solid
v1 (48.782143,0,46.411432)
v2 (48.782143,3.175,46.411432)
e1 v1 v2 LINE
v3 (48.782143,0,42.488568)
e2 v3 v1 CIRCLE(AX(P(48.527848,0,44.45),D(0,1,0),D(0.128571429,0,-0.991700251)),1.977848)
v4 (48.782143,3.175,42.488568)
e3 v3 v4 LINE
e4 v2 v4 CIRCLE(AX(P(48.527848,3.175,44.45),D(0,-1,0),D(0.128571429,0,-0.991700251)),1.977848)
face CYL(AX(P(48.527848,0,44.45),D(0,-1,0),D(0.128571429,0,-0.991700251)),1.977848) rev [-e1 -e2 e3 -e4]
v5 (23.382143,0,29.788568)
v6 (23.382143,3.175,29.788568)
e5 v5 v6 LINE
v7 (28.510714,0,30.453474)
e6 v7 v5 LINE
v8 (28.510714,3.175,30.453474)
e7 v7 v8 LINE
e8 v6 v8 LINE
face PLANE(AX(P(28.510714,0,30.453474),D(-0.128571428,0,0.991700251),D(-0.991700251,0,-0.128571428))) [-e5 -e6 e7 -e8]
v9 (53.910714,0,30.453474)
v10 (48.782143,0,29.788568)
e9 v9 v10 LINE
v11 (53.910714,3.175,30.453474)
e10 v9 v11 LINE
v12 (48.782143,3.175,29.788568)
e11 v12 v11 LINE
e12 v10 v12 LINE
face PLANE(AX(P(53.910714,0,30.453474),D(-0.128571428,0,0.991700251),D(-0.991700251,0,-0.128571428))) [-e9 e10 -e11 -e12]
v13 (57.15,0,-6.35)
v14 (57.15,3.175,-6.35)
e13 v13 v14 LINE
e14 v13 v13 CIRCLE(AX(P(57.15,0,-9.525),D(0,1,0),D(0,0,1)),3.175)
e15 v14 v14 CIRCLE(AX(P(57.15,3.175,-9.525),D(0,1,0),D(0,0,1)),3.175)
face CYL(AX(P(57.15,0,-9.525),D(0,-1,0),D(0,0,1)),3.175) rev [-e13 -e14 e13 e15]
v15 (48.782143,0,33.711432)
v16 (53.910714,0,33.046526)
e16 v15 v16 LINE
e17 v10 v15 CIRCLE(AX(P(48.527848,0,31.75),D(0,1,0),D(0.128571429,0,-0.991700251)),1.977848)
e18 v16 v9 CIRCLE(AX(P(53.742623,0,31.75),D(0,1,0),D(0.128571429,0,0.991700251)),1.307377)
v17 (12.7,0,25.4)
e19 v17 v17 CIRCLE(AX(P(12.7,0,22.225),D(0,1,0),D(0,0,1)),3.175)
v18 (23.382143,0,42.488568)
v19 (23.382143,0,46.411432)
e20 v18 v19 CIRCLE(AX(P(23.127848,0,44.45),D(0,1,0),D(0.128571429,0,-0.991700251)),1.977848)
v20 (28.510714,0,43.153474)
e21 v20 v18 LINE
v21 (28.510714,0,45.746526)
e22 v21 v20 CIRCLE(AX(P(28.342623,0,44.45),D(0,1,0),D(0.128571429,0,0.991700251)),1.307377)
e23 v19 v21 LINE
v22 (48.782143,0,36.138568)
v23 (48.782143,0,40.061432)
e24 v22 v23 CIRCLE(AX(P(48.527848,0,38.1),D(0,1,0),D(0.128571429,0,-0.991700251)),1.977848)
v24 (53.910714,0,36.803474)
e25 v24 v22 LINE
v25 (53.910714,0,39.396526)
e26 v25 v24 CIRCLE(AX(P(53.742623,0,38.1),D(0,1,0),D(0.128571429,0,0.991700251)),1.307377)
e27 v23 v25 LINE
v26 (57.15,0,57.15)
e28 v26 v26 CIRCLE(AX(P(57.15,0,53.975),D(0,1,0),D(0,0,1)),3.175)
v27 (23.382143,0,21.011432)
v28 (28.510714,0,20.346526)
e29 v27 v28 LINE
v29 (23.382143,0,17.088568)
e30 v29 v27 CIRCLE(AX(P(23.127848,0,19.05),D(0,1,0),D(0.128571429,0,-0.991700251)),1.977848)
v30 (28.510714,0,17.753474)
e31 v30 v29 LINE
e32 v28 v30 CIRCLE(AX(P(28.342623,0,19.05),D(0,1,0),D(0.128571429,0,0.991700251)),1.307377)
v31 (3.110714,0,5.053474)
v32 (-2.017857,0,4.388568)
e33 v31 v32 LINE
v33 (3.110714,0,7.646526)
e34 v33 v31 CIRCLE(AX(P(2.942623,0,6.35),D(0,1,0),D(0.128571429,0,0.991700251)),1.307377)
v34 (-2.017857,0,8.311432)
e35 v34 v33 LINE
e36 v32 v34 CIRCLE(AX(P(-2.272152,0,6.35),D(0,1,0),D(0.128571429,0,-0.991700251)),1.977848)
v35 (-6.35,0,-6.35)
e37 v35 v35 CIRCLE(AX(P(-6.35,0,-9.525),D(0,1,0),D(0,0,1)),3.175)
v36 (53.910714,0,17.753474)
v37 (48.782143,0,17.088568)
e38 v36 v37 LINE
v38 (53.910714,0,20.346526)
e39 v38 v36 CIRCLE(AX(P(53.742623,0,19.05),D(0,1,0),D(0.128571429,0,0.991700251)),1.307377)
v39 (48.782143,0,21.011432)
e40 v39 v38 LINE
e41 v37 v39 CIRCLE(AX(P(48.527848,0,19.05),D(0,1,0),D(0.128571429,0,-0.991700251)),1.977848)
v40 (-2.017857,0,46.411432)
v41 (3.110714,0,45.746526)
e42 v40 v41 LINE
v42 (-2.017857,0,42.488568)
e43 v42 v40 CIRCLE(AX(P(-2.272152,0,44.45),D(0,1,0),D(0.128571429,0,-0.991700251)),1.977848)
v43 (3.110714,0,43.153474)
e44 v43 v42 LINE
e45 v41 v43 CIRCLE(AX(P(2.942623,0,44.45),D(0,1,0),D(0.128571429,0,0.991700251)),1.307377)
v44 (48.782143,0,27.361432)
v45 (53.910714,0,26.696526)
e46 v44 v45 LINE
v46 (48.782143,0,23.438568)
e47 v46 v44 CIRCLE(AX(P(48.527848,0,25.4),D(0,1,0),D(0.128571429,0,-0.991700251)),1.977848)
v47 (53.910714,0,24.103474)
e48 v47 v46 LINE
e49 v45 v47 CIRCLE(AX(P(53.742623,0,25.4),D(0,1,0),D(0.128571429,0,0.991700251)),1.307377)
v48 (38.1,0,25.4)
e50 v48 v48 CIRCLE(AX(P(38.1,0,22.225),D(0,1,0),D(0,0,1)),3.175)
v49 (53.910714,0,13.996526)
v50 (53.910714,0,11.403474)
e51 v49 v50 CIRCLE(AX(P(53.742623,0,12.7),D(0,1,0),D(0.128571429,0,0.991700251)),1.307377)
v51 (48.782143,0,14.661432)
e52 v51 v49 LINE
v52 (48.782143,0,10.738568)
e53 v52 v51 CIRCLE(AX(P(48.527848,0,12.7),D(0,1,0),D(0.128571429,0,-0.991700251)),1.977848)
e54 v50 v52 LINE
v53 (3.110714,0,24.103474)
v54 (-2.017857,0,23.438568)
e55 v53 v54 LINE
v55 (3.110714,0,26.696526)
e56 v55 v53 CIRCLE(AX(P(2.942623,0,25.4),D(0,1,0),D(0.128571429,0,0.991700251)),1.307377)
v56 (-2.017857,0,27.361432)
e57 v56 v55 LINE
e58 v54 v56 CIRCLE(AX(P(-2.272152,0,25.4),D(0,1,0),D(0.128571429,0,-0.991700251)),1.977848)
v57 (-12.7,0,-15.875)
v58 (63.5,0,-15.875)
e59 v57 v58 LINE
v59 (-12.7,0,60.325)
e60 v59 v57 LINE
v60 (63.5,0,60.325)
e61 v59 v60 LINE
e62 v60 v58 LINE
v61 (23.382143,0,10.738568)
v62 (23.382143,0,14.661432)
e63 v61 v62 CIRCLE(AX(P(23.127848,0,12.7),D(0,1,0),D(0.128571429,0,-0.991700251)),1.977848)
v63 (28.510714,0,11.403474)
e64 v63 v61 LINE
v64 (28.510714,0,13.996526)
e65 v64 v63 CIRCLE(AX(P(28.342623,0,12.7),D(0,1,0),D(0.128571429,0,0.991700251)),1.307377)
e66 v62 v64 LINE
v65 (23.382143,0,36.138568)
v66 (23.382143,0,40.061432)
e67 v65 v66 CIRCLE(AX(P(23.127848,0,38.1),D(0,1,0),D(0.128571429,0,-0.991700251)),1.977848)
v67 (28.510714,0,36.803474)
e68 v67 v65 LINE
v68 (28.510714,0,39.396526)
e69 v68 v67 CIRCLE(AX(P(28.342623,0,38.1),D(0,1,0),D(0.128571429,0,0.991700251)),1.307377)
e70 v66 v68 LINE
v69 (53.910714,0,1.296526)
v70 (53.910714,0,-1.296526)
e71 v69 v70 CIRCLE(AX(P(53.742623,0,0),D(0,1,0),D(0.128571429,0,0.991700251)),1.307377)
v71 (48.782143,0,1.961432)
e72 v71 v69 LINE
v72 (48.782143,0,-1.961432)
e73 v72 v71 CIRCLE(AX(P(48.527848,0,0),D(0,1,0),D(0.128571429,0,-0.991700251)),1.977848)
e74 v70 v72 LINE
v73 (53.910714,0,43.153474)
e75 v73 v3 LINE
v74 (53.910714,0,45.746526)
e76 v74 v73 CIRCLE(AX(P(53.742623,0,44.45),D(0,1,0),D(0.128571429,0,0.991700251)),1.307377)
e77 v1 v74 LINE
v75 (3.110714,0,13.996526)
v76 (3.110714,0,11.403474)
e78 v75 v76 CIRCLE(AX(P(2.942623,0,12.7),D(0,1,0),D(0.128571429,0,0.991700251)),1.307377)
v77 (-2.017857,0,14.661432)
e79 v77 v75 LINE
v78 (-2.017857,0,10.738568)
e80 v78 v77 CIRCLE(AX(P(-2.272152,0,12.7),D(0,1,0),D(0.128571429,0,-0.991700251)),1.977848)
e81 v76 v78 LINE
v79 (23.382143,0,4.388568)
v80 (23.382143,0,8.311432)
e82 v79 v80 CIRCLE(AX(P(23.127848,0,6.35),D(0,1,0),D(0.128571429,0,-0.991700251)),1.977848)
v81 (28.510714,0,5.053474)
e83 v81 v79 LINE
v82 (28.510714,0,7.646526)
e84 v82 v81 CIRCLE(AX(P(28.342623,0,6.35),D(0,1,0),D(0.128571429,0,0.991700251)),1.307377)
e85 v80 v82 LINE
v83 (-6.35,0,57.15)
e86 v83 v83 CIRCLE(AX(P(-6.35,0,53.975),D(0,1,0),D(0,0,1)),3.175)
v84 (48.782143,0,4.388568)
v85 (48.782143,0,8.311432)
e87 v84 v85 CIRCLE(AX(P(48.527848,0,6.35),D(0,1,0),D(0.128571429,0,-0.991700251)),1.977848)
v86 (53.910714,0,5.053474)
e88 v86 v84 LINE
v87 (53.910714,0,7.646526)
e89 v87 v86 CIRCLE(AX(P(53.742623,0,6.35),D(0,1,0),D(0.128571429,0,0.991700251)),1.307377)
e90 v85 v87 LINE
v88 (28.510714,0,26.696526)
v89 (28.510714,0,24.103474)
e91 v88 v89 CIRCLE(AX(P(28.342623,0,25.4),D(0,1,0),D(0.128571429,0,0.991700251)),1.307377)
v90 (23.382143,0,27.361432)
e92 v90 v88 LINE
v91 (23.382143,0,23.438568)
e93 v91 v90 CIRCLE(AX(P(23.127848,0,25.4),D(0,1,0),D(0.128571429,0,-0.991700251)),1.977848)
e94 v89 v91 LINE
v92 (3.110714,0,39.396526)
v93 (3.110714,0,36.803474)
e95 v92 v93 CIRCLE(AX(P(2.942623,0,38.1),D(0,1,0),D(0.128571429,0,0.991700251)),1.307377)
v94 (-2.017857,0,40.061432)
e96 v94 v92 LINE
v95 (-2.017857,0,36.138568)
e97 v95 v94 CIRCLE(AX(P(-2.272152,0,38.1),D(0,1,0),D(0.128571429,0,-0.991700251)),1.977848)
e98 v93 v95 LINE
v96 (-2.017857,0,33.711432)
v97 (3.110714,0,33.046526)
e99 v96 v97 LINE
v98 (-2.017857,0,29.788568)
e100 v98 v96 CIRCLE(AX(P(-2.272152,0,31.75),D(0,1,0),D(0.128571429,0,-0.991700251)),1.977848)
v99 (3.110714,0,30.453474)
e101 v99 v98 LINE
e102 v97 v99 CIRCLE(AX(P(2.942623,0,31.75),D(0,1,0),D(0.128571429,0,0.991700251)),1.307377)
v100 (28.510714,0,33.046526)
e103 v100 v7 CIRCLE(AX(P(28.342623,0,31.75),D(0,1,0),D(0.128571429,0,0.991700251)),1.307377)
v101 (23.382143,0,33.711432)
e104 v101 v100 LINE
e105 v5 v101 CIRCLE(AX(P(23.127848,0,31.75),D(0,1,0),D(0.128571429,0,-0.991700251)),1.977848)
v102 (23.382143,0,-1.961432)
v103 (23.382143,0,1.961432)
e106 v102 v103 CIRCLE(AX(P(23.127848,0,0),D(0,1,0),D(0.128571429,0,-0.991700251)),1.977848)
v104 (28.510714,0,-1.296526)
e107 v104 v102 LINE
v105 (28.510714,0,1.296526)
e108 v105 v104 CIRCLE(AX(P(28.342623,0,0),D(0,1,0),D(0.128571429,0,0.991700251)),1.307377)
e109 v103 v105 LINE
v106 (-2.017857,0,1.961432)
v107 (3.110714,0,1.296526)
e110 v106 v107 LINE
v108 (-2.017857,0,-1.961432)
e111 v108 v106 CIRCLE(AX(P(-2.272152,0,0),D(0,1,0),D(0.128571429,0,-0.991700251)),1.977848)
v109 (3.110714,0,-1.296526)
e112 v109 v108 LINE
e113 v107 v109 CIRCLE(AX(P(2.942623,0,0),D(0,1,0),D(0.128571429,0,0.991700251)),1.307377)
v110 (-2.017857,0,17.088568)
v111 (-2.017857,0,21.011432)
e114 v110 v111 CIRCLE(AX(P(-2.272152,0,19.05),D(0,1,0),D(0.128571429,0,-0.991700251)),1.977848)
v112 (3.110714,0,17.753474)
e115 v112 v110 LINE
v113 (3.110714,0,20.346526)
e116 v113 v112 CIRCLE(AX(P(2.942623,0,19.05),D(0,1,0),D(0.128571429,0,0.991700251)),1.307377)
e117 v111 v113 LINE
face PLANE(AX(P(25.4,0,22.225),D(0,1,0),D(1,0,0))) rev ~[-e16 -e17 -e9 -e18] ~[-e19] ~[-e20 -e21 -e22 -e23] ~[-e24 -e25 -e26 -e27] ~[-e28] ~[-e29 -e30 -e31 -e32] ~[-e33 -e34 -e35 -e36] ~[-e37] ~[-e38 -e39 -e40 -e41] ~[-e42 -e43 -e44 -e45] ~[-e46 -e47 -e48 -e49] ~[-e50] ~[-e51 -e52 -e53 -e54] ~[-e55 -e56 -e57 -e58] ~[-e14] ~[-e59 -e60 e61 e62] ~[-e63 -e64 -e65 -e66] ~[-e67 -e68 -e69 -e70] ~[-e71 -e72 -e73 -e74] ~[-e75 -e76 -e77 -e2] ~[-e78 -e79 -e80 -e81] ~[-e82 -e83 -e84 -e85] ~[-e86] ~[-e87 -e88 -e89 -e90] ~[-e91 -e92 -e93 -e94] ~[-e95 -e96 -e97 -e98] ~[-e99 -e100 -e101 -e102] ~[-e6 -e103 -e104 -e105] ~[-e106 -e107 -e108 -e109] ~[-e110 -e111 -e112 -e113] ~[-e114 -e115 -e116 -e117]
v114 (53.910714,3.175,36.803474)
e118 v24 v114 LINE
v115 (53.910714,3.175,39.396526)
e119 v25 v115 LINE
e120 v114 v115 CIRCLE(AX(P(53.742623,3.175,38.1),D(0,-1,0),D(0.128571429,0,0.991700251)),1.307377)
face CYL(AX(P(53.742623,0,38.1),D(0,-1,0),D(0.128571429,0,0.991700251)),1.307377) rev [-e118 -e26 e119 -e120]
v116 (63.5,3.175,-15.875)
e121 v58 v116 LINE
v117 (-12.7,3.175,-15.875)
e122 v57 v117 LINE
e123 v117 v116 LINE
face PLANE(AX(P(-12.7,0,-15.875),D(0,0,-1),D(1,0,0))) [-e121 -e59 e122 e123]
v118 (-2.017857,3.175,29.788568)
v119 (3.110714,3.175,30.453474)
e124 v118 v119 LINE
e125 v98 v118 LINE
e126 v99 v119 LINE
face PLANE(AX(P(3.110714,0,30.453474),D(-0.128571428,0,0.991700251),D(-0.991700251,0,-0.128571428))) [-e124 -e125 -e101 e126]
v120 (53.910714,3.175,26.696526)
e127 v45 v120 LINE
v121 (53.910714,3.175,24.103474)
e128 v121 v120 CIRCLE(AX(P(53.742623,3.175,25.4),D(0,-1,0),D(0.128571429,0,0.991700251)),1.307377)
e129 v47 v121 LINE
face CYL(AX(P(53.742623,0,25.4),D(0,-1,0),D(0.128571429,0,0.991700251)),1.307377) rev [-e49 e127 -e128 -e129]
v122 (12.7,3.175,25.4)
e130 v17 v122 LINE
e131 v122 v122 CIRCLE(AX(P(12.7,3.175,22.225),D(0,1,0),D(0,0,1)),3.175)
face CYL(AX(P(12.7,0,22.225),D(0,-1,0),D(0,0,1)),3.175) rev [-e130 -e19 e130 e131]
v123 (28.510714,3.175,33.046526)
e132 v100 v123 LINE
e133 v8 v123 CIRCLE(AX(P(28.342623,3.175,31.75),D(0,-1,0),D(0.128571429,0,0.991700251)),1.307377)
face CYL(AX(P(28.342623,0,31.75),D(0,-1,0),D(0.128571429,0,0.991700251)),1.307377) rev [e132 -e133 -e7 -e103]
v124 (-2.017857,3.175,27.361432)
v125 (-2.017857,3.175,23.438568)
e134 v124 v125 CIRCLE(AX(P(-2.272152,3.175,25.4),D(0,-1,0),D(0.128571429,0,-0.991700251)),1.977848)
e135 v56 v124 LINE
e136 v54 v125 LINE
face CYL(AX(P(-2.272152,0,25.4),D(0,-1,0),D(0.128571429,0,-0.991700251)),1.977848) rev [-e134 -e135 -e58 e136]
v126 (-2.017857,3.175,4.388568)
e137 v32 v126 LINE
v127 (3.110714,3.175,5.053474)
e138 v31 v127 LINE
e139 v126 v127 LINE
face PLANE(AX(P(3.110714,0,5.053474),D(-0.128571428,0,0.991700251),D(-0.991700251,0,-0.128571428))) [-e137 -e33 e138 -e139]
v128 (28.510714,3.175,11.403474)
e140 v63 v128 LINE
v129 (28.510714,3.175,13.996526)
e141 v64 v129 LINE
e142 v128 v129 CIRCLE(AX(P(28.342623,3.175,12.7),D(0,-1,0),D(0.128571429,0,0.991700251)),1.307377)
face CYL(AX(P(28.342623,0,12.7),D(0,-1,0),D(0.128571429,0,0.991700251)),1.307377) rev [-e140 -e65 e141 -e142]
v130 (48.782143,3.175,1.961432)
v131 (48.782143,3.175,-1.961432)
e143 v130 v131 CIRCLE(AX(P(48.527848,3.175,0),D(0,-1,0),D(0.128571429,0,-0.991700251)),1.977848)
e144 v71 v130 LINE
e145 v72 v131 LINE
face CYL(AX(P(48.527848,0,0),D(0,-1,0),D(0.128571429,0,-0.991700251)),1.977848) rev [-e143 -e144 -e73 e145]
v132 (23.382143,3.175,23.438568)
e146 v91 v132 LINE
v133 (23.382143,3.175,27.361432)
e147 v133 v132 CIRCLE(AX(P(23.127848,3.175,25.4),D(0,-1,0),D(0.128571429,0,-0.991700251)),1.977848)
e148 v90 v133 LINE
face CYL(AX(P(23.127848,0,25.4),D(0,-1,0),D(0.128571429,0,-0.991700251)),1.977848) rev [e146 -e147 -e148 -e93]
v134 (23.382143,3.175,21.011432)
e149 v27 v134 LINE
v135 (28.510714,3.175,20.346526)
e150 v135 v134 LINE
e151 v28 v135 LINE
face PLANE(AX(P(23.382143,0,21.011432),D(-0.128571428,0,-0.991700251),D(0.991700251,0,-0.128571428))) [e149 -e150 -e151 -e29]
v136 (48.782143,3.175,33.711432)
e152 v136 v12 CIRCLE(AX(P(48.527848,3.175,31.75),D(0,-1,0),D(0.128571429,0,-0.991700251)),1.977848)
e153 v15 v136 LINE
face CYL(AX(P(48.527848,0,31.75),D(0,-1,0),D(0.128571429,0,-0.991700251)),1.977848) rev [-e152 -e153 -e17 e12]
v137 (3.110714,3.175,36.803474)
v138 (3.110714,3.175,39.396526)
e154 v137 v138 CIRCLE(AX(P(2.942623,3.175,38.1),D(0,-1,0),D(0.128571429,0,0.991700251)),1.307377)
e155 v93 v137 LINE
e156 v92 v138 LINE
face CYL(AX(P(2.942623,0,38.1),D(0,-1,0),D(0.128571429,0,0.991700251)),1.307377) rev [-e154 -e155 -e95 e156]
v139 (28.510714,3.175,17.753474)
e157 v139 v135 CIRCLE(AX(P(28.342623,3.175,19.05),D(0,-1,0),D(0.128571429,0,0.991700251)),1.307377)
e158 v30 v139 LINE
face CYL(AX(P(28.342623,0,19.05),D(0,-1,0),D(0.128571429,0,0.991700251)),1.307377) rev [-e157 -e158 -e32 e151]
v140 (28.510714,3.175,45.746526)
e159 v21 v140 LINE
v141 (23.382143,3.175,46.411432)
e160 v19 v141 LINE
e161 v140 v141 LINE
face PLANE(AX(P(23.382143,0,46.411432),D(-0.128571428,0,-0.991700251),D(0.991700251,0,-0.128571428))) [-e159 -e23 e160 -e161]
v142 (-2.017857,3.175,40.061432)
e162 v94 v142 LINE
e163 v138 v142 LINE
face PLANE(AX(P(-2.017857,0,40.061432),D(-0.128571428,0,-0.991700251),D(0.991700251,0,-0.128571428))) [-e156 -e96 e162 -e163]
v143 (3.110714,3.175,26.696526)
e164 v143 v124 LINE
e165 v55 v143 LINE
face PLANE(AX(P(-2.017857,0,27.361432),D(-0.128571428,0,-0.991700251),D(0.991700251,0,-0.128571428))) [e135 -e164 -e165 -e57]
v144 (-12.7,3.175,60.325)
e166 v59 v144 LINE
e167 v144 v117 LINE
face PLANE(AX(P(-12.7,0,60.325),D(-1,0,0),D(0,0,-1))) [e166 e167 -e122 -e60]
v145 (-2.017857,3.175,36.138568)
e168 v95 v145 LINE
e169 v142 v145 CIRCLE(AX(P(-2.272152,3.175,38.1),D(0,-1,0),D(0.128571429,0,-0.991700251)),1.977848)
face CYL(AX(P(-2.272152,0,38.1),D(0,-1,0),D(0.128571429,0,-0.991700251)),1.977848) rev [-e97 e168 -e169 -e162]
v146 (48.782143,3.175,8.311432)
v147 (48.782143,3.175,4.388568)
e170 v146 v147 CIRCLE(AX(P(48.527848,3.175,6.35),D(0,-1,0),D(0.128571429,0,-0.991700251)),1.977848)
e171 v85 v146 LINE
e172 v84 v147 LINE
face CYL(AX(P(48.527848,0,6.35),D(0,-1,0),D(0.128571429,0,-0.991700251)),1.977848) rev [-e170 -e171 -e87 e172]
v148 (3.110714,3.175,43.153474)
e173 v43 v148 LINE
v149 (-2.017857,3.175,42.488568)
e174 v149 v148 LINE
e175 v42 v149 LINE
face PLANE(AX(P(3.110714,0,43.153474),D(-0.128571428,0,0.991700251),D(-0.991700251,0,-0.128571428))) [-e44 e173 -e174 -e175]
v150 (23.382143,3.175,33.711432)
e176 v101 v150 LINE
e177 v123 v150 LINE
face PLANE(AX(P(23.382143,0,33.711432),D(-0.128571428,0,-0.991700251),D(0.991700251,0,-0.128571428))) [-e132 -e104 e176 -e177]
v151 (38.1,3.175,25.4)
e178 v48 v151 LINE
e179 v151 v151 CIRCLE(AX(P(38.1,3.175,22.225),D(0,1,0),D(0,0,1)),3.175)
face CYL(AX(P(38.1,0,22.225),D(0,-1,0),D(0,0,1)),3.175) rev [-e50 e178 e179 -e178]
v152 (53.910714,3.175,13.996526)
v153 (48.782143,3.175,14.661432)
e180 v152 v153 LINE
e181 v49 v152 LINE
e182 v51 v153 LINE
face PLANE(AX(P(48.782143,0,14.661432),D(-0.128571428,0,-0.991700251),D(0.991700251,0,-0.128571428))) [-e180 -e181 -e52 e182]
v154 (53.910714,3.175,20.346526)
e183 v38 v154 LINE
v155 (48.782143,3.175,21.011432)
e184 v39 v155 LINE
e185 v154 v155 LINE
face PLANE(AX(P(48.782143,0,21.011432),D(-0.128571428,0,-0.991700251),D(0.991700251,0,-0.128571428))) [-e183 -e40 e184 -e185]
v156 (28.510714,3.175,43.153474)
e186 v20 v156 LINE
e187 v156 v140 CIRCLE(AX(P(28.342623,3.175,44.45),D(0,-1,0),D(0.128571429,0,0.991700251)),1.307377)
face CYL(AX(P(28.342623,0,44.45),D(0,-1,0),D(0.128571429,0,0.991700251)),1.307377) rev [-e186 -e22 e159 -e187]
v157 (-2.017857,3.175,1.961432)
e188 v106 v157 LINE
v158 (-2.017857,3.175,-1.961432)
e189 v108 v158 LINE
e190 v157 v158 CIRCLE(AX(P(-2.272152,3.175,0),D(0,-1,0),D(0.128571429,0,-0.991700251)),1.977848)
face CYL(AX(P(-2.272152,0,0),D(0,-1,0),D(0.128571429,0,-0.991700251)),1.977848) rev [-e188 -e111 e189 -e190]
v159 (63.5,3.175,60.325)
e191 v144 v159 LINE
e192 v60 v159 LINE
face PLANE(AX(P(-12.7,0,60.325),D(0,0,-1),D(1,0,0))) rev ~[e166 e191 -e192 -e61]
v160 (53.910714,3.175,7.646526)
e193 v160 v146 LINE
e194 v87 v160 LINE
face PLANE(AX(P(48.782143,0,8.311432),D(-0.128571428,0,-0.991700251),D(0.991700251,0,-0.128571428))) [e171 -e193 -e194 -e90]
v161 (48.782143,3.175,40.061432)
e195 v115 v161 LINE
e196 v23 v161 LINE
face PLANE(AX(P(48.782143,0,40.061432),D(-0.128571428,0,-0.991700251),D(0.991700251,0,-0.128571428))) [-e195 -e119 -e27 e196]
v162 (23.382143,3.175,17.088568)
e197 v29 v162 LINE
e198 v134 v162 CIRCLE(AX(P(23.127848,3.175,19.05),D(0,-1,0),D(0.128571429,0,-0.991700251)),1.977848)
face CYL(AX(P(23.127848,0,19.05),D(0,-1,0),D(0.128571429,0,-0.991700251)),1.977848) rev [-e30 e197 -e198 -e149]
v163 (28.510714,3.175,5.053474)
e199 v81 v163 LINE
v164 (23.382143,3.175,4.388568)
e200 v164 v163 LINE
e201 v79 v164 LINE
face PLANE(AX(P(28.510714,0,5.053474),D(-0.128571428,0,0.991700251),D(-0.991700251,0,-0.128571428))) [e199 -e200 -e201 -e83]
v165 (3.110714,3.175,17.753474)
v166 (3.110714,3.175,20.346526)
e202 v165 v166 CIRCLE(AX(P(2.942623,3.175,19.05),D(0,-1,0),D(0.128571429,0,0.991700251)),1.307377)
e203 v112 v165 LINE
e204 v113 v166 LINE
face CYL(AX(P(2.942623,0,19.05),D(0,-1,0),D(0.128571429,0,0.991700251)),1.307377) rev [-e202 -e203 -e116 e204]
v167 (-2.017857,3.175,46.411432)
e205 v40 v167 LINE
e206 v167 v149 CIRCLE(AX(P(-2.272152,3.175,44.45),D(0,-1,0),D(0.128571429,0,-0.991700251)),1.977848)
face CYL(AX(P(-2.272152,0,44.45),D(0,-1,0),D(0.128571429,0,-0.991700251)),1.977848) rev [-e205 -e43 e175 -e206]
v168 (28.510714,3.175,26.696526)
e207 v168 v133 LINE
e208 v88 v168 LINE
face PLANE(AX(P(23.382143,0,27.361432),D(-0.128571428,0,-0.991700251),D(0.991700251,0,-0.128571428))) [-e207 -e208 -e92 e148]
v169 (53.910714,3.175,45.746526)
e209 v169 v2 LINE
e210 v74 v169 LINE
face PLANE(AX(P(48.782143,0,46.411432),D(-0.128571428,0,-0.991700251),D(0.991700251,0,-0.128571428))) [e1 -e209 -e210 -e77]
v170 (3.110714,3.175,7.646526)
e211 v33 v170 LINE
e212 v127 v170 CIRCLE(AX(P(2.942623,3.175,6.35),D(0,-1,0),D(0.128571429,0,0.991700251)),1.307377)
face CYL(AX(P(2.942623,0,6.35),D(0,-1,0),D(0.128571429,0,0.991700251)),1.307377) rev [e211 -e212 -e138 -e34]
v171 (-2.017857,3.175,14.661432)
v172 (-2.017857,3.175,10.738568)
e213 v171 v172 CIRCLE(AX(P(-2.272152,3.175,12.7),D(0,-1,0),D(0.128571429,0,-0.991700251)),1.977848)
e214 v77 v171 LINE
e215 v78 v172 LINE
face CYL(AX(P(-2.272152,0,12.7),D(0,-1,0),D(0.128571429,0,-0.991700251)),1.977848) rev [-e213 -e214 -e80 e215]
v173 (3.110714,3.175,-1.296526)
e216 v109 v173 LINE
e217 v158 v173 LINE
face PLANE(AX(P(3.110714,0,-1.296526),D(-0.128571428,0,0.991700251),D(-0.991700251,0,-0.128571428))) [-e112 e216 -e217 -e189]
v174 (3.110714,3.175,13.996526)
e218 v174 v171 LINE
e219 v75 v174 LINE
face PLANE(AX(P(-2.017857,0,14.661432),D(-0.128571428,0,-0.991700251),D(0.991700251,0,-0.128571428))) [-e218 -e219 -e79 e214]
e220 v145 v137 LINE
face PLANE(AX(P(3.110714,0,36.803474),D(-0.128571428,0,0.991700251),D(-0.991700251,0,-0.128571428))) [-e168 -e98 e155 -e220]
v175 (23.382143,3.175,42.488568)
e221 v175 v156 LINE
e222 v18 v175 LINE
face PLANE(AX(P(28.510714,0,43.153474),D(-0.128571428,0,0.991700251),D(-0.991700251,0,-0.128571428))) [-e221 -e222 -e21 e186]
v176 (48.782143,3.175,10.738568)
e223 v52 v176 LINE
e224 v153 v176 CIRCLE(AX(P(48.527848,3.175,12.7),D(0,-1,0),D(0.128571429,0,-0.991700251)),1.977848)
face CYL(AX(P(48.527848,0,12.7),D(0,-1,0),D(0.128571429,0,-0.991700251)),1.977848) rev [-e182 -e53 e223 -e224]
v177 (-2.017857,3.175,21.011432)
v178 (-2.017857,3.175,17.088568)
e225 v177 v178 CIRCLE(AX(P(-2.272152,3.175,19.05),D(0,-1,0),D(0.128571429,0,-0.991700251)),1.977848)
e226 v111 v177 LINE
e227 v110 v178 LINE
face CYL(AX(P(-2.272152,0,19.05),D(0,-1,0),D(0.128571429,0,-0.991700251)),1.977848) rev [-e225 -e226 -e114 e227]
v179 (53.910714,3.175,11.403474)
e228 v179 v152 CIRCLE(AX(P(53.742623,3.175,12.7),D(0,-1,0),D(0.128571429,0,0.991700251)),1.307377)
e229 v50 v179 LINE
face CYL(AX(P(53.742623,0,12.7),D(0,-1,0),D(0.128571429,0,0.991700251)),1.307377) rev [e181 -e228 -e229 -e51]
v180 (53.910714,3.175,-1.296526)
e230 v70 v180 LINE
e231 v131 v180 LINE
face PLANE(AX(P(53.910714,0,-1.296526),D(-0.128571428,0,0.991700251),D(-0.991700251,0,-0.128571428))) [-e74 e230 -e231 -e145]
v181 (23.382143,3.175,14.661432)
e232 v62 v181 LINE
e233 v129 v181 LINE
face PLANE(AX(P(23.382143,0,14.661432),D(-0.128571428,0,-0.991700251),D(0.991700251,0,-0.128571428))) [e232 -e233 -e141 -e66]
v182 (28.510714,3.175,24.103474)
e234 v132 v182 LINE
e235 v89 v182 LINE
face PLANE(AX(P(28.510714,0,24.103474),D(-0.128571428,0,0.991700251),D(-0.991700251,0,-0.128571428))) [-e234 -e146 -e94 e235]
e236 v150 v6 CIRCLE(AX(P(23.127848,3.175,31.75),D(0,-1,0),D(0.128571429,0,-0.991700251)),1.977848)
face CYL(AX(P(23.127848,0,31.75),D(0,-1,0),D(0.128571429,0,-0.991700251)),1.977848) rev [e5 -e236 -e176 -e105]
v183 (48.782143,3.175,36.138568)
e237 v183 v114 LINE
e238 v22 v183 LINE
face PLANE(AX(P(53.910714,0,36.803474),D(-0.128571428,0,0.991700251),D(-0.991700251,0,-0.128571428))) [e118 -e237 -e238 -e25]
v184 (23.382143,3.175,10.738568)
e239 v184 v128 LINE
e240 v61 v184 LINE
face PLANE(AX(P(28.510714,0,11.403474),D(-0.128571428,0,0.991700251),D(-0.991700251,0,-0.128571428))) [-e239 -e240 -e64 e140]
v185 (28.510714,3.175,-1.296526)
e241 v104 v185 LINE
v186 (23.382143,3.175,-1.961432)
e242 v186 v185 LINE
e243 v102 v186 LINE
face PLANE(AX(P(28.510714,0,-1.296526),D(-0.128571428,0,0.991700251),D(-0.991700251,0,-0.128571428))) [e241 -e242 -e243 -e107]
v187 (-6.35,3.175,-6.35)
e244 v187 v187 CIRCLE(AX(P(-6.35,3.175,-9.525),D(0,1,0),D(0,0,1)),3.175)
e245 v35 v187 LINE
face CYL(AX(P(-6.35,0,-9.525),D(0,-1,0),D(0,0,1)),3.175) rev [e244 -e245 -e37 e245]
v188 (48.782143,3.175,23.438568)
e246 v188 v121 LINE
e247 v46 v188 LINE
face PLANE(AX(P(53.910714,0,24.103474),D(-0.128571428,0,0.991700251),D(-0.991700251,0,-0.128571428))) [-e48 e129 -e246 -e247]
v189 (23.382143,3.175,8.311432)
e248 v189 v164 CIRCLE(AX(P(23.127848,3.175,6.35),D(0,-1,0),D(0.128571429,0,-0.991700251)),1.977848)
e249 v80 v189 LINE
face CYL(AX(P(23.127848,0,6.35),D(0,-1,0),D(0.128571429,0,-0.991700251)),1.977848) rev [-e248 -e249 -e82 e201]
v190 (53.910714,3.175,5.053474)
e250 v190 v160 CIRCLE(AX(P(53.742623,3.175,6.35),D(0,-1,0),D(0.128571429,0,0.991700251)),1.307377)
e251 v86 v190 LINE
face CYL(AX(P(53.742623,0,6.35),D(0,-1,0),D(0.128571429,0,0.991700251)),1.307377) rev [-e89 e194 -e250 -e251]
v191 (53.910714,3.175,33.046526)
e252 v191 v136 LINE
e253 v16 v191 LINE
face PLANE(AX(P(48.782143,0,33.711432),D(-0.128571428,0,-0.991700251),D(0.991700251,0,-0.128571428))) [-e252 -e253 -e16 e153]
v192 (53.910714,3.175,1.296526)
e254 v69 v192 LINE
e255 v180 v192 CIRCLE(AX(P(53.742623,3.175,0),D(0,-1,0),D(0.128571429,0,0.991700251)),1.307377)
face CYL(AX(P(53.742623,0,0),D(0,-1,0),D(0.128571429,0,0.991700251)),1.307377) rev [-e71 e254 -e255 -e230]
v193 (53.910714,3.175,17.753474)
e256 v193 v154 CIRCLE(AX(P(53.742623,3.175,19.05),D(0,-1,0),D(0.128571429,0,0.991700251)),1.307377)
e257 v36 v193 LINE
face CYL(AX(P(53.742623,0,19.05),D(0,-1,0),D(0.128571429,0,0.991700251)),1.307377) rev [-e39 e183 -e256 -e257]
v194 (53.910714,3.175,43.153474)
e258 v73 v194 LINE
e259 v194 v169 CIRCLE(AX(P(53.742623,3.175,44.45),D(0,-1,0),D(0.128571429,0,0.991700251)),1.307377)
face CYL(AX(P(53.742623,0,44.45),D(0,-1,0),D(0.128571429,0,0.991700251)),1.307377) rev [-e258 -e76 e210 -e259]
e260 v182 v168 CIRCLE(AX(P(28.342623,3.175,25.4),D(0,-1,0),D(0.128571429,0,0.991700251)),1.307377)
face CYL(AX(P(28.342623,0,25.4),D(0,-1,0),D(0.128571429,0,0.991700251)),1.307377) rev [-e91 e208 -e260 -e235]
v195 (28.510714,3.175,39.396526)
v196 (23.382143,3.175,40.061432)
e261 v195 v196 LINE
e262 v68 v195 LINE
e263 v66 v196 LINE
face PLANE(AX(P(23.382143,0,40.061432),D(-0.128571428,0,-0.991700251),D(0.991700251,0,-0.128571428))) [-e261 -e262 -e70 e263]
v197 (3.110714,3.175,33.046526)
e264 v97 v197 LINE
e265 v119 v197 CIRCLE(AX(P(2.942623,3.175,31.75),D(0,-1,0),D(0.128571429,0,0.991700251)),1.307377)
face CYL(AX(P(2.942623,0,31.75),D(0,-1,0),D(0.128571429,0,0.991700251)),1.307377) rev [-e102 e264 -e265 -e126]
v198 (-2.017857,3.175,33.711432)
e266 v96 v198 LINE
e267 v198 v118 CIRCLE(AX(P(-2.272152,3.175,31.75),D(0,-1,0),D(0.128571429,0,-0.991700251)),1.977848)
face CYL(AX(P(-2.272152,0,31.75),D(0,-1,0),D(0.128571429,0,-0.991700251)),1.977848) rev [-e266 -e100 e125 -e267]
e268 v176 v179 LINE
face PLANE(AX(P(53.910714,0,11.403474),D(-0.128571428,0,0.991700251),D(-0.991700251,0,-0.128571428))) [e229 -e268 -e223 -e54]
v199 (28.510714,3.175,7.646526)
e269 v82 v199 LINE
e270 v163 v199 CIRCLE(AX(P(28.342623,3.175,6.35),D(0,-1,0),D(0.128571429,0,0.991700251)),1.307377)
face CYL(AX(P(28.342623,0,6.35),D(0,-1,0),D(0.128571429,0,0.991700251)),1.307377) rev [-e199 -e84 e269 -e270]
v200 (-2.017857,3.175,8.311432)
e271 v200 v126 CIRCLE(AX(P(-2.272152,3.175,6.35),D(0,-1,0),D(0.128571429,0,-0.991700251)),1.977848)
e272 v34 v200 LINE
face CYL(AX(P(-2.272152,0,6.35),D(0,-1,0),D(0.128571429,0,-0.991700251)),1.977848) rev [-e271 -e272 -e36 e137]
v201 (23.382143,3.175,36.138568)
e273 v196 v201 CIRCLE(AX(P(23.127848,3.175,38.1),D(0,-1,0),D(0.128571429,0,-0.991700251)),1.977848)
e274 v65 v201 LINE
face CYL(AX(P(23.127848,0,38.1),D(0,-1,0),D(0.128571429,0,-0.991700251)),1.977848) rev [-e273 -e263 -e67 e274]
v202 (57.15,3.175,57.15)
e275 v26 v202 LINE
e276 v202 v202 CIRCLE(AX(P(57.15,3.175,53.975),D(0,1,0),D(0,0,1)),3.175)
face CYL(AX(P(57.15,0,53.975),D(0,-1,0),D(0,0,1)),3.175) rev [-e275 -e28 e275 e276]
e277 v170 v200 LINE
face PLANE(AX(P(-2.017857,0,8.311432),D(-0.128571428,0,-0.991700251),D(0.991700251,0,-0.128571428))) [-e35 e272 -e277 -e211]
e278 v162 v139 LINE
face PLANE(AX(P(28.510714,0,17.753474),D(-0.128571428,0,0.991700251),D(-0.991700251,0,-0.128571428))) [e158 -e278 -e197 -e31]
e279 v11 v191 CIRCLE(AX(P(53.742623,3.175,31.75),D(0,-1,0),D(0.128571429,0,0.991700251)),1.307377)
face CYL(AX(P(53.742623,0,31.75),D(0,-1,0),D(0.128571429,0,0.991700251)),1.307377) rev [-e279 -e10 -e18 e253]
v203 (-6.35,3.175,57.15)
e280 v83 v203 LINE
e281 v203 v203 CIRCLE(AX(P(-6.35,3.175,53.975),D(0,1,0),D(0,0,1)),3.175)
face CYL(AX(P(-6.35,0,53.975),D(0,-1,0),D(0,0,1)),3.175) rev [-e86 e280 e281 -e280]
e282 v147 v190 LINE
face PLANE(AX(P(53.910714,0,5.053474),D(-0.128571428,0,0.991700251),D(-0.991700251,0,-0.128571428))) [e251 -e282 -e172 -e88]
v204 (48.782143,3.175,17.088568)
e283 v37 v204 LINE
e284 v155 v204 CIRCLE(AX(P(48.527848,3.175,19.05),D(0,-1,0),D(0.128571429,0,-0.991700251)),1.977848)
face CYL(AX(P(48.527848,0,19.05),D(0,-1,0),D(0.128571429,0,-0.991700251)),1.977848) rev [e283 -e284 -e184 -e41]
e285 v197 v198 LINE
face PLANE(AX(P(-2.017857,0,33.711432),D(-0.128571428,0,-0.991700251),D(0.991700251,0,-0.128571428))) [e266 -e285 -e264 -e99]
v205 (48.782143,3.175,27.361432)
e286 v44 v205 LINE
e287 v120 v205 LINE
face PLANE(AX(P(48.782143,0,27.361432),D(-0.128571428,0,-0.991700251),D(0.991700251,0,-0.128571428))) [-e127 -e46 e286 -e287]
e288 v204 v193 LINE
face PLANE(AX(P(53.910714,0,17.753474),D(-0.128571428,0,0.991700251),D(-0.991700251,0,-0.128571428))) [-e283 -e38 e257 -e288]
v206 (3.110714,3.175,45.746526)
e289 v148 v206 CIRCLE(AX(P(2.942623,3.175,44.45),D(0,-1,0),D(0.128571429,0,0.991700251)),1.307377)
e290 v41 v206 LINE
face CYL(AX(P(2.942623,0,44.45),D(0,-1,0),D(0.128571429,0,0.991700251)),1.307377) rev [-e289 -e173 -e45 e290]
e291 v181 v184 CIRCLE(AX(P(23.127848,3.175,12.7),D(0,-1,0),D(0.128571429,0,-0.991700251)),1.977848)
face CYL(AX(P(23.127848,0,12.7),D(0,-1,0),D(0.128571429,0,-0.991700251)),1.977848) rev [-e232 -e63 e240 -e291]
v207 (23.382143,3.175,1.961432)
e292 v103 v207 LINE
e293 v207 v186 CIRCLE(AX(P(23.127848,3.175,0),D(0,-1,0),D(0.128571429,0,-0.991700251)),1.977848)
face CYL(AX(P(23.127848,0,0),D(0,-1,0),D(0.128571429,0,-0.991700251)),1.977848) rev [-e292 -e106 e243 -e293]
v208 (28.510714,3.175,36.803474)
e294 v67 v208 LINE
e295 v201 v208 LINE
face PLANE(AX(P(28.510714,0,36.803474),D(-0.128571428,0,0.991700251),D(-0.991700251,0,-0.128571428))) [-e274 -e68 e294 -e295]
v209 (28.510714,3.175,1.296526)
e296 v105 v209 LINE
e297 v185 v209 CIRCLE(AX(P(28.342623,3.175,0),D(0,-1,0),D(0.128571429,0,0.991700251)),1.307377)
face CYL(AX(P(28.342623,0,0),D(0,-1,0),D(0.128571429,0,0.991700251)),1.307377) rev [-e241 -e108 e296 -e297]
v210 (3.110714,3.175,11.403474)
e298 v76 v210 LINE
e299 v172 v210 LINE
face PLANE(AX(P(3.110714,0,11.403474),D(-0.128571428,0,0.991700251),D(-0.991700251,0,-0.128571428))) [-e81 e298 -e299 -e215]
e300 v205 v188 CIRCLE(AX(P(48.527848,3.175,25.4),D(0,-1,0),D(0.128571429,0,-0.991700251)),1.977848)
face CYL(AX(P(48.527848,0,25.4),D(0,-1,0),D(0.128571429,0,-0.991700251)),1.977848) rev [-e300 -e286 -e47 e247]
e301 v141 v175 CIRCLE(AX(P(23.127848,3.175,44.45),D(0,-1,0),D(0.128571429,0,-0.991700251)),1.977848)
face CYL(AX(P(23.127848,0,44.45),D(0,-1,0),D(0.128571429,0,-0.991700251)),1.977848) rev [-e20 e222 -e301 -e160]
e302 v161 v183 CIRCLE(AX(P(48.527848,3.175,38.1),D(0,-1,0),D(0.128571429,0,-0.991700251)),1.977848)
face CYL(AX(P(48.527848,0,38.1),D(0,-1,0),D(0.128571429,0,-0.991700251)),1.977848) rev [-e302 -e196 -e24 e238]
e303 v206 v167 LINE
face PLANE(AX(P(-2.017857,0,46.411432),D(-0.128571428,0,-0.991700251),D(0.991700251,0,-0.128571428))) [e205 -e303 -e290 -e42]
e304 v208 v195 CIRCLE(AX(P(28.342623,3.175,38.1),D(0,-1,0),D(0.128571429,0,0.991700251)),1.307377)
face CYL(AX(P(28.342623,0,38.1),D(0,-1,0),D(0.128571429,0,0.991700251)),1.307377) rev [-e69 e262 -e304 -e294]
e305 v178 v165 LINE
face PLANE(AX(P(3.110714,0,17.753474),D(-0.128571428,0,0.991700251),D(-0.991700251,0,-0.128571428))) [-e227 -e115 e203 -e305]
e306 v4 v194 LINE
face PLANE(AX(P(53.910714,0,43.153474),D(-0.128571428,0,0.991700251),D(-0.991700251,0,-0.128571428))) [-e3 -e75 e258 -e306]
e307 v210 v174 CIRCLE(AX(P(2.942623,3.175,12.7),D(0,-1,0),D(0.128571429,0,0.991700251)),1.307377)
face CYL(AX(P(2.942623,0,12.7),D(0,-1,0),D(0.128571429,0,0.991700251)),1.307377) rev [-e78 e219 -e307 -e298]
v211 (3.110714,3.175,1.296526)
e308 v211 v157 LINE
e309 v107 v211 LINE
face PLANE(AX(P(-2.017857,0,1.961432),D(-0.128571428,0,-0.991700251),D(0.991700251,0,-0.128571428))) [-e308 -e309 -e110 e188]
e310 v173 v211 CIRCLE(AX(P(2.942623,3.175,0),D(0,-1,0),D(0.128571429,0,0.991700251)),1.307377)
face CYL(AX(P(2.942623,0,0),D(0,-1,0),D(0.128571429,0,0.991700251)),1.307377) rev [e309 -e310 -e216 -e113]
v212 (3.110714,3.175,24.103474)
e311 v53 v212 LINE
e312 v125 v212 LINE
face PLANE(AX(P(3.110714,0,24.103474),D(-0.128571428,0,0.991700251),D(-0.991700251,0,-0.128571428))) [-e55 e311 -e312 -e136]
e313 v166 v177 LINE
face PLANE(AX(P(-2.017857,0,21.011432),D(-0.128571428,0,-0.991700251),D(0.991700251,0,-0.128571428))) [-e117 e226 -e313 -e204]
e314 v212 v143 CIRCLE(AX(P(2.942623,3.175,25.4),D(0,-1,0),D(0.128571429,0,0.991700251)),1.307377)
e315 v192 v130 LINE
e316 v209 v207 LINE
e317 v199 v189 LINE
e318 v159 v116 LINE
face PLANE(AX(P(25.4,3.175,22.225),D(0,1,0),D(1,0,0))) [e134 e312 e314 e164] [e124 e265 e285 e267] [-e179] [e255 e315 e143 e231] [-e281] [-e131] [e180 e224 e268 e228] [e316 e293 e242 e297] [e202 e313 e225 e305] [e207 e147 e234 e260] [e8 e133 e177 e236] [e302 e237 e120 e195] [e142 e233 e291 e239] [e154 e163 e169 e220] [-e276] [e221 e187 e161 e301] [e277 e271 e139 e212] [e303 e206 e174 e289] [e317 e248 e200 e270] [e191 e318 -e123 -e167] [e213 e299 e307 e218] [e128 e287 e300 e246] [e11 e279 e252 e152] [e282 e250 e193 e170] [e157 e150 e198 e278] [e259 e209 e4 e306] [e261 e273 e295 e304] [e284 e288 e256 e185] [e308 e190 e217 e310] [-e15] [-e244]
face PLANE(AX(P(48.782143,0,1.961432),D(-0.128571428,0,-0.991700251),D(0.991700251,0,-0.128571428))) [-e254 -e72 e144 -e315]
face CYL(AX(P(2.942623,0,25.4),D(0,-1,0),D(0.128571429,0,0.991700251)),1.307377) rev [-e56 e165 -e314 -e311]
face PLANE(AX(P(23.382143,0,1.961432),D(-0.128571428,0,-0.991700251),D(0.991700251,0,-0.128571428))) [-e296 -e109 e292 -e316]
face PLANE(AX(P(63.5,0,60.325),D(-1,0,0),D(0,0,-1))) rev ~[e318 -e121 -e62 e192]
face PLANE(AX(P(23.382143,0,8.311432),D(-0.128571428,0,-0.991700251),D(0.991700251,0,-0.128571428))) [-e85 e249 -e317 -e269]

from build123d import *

# Parameters (mm, degrees)
BASEWITH_ALIGNMENT_W = 76.2
BASEWITH_ALIGNMENT_H = 76.2
BASEWITH_ALIGNMENT_R = 3.175
BOSS_EXTRUDE1_DEPTH  = 3.175
CUT_EXTRUDE6_DEPTH   = 88.643803261
LPATTERN1_COUNT      = 8
LPATTERN1_PITCH      = 6.35
LPATTERN1_COUNT_DIR2 = 3
LPATTERN1_PITCH_DIR2 = 25.4


with BuildPart() as part:
    # BaseWith Alignment → Boss-Extrude1 (new body)
    with BuildSketch(Plane(origin=(0, 0, 0), x_dir=(1, 0, 0), z_dir=(0, 1, 0))):
        with Locations((25.4, -22.225)):
            Rectangle(BASEWITH_ALIGNMENT_W, BASEWITH_ALIGNMENT_H)
        with Locations(Location((-6.35, 9.525, 0), (0, 0, 270))):
            Circle(BASEWITH_ALIGNMENT_R, mode=Mode.SUBTRACT)
        with Locations(Location((57.15, 9.525, 0), (0, 0, 270))):
            Circle(BASEWITH_ALIGNMENT_R, mode=Mode.SUBTRACT)
        with Locations(Location((-6.35, -53.975, 0), (0, 0, 270))):
            Circle(BASEWITH_ALIGNMENT_R, mode=Mode.SUBTRACT)
        with Locations(Location((57.15, -53.975, 0), (0, 0, 270))):
            Circle(BASEWITH_ALIGNMENT_R, mode=Mode.SUBTRACT)
        with Locations(Location((12.7, -22.225, 0), (0, 0, 270))):
            Circle(BASEWITH_ALIGNMENT_R, mode=Mode.SUBTRACT)
        with Locations(Location((38.1, -22.225, 0), (0, 0, 270))):
            Circle(BASEWITH_ALIGNMENT_R, mode=Mode.SUBTRACT)
    extrude(amount=BOSS_EXTRUDE1_DEPTH)

    # Sketch1 → Cut-Extrude6 (cut, through all)
    with BuildSketch(Plane(origin=(0, 0, 0), x_dir=(-1, 0, 0), z_dir=(0, -1, 0))):
        with BuildLine():
            Line((2.017857143, -1.961432458), (-3.110714286, -1.296526148))
            ThreePointArc((-3.110714286, -1.296526148), (-4.25, 0), (-3.110714286, 1.296526148))
            Line((-3.110714286, 1.296526148), (2.017857143, 1.961432458))
            ThreePointArc((2.017857143, 1.961432458), (4.25, 0), (2.017857143, -1.961432458))
        make_face()
    cut_extrude6 = extrude(amount=-CUT_EXTRUDE6_DEPTH, mode=Mode.SUBTRACT)

    # LPattern1: Cut-Extrude6 8 × 3
    with Locations(*[(j * LPATTERN1_PITCH_DIR2, 0, i * LPATTERN1_PITCH) for i in range(LPATTERN1_COUNT) for j in range(LPATTERN1_COUNT_DIR2) if (i, j) != (0, 0)]):
        add(cut_extrude6, mode=Mode.SUBTRACT)


solid = part.part
